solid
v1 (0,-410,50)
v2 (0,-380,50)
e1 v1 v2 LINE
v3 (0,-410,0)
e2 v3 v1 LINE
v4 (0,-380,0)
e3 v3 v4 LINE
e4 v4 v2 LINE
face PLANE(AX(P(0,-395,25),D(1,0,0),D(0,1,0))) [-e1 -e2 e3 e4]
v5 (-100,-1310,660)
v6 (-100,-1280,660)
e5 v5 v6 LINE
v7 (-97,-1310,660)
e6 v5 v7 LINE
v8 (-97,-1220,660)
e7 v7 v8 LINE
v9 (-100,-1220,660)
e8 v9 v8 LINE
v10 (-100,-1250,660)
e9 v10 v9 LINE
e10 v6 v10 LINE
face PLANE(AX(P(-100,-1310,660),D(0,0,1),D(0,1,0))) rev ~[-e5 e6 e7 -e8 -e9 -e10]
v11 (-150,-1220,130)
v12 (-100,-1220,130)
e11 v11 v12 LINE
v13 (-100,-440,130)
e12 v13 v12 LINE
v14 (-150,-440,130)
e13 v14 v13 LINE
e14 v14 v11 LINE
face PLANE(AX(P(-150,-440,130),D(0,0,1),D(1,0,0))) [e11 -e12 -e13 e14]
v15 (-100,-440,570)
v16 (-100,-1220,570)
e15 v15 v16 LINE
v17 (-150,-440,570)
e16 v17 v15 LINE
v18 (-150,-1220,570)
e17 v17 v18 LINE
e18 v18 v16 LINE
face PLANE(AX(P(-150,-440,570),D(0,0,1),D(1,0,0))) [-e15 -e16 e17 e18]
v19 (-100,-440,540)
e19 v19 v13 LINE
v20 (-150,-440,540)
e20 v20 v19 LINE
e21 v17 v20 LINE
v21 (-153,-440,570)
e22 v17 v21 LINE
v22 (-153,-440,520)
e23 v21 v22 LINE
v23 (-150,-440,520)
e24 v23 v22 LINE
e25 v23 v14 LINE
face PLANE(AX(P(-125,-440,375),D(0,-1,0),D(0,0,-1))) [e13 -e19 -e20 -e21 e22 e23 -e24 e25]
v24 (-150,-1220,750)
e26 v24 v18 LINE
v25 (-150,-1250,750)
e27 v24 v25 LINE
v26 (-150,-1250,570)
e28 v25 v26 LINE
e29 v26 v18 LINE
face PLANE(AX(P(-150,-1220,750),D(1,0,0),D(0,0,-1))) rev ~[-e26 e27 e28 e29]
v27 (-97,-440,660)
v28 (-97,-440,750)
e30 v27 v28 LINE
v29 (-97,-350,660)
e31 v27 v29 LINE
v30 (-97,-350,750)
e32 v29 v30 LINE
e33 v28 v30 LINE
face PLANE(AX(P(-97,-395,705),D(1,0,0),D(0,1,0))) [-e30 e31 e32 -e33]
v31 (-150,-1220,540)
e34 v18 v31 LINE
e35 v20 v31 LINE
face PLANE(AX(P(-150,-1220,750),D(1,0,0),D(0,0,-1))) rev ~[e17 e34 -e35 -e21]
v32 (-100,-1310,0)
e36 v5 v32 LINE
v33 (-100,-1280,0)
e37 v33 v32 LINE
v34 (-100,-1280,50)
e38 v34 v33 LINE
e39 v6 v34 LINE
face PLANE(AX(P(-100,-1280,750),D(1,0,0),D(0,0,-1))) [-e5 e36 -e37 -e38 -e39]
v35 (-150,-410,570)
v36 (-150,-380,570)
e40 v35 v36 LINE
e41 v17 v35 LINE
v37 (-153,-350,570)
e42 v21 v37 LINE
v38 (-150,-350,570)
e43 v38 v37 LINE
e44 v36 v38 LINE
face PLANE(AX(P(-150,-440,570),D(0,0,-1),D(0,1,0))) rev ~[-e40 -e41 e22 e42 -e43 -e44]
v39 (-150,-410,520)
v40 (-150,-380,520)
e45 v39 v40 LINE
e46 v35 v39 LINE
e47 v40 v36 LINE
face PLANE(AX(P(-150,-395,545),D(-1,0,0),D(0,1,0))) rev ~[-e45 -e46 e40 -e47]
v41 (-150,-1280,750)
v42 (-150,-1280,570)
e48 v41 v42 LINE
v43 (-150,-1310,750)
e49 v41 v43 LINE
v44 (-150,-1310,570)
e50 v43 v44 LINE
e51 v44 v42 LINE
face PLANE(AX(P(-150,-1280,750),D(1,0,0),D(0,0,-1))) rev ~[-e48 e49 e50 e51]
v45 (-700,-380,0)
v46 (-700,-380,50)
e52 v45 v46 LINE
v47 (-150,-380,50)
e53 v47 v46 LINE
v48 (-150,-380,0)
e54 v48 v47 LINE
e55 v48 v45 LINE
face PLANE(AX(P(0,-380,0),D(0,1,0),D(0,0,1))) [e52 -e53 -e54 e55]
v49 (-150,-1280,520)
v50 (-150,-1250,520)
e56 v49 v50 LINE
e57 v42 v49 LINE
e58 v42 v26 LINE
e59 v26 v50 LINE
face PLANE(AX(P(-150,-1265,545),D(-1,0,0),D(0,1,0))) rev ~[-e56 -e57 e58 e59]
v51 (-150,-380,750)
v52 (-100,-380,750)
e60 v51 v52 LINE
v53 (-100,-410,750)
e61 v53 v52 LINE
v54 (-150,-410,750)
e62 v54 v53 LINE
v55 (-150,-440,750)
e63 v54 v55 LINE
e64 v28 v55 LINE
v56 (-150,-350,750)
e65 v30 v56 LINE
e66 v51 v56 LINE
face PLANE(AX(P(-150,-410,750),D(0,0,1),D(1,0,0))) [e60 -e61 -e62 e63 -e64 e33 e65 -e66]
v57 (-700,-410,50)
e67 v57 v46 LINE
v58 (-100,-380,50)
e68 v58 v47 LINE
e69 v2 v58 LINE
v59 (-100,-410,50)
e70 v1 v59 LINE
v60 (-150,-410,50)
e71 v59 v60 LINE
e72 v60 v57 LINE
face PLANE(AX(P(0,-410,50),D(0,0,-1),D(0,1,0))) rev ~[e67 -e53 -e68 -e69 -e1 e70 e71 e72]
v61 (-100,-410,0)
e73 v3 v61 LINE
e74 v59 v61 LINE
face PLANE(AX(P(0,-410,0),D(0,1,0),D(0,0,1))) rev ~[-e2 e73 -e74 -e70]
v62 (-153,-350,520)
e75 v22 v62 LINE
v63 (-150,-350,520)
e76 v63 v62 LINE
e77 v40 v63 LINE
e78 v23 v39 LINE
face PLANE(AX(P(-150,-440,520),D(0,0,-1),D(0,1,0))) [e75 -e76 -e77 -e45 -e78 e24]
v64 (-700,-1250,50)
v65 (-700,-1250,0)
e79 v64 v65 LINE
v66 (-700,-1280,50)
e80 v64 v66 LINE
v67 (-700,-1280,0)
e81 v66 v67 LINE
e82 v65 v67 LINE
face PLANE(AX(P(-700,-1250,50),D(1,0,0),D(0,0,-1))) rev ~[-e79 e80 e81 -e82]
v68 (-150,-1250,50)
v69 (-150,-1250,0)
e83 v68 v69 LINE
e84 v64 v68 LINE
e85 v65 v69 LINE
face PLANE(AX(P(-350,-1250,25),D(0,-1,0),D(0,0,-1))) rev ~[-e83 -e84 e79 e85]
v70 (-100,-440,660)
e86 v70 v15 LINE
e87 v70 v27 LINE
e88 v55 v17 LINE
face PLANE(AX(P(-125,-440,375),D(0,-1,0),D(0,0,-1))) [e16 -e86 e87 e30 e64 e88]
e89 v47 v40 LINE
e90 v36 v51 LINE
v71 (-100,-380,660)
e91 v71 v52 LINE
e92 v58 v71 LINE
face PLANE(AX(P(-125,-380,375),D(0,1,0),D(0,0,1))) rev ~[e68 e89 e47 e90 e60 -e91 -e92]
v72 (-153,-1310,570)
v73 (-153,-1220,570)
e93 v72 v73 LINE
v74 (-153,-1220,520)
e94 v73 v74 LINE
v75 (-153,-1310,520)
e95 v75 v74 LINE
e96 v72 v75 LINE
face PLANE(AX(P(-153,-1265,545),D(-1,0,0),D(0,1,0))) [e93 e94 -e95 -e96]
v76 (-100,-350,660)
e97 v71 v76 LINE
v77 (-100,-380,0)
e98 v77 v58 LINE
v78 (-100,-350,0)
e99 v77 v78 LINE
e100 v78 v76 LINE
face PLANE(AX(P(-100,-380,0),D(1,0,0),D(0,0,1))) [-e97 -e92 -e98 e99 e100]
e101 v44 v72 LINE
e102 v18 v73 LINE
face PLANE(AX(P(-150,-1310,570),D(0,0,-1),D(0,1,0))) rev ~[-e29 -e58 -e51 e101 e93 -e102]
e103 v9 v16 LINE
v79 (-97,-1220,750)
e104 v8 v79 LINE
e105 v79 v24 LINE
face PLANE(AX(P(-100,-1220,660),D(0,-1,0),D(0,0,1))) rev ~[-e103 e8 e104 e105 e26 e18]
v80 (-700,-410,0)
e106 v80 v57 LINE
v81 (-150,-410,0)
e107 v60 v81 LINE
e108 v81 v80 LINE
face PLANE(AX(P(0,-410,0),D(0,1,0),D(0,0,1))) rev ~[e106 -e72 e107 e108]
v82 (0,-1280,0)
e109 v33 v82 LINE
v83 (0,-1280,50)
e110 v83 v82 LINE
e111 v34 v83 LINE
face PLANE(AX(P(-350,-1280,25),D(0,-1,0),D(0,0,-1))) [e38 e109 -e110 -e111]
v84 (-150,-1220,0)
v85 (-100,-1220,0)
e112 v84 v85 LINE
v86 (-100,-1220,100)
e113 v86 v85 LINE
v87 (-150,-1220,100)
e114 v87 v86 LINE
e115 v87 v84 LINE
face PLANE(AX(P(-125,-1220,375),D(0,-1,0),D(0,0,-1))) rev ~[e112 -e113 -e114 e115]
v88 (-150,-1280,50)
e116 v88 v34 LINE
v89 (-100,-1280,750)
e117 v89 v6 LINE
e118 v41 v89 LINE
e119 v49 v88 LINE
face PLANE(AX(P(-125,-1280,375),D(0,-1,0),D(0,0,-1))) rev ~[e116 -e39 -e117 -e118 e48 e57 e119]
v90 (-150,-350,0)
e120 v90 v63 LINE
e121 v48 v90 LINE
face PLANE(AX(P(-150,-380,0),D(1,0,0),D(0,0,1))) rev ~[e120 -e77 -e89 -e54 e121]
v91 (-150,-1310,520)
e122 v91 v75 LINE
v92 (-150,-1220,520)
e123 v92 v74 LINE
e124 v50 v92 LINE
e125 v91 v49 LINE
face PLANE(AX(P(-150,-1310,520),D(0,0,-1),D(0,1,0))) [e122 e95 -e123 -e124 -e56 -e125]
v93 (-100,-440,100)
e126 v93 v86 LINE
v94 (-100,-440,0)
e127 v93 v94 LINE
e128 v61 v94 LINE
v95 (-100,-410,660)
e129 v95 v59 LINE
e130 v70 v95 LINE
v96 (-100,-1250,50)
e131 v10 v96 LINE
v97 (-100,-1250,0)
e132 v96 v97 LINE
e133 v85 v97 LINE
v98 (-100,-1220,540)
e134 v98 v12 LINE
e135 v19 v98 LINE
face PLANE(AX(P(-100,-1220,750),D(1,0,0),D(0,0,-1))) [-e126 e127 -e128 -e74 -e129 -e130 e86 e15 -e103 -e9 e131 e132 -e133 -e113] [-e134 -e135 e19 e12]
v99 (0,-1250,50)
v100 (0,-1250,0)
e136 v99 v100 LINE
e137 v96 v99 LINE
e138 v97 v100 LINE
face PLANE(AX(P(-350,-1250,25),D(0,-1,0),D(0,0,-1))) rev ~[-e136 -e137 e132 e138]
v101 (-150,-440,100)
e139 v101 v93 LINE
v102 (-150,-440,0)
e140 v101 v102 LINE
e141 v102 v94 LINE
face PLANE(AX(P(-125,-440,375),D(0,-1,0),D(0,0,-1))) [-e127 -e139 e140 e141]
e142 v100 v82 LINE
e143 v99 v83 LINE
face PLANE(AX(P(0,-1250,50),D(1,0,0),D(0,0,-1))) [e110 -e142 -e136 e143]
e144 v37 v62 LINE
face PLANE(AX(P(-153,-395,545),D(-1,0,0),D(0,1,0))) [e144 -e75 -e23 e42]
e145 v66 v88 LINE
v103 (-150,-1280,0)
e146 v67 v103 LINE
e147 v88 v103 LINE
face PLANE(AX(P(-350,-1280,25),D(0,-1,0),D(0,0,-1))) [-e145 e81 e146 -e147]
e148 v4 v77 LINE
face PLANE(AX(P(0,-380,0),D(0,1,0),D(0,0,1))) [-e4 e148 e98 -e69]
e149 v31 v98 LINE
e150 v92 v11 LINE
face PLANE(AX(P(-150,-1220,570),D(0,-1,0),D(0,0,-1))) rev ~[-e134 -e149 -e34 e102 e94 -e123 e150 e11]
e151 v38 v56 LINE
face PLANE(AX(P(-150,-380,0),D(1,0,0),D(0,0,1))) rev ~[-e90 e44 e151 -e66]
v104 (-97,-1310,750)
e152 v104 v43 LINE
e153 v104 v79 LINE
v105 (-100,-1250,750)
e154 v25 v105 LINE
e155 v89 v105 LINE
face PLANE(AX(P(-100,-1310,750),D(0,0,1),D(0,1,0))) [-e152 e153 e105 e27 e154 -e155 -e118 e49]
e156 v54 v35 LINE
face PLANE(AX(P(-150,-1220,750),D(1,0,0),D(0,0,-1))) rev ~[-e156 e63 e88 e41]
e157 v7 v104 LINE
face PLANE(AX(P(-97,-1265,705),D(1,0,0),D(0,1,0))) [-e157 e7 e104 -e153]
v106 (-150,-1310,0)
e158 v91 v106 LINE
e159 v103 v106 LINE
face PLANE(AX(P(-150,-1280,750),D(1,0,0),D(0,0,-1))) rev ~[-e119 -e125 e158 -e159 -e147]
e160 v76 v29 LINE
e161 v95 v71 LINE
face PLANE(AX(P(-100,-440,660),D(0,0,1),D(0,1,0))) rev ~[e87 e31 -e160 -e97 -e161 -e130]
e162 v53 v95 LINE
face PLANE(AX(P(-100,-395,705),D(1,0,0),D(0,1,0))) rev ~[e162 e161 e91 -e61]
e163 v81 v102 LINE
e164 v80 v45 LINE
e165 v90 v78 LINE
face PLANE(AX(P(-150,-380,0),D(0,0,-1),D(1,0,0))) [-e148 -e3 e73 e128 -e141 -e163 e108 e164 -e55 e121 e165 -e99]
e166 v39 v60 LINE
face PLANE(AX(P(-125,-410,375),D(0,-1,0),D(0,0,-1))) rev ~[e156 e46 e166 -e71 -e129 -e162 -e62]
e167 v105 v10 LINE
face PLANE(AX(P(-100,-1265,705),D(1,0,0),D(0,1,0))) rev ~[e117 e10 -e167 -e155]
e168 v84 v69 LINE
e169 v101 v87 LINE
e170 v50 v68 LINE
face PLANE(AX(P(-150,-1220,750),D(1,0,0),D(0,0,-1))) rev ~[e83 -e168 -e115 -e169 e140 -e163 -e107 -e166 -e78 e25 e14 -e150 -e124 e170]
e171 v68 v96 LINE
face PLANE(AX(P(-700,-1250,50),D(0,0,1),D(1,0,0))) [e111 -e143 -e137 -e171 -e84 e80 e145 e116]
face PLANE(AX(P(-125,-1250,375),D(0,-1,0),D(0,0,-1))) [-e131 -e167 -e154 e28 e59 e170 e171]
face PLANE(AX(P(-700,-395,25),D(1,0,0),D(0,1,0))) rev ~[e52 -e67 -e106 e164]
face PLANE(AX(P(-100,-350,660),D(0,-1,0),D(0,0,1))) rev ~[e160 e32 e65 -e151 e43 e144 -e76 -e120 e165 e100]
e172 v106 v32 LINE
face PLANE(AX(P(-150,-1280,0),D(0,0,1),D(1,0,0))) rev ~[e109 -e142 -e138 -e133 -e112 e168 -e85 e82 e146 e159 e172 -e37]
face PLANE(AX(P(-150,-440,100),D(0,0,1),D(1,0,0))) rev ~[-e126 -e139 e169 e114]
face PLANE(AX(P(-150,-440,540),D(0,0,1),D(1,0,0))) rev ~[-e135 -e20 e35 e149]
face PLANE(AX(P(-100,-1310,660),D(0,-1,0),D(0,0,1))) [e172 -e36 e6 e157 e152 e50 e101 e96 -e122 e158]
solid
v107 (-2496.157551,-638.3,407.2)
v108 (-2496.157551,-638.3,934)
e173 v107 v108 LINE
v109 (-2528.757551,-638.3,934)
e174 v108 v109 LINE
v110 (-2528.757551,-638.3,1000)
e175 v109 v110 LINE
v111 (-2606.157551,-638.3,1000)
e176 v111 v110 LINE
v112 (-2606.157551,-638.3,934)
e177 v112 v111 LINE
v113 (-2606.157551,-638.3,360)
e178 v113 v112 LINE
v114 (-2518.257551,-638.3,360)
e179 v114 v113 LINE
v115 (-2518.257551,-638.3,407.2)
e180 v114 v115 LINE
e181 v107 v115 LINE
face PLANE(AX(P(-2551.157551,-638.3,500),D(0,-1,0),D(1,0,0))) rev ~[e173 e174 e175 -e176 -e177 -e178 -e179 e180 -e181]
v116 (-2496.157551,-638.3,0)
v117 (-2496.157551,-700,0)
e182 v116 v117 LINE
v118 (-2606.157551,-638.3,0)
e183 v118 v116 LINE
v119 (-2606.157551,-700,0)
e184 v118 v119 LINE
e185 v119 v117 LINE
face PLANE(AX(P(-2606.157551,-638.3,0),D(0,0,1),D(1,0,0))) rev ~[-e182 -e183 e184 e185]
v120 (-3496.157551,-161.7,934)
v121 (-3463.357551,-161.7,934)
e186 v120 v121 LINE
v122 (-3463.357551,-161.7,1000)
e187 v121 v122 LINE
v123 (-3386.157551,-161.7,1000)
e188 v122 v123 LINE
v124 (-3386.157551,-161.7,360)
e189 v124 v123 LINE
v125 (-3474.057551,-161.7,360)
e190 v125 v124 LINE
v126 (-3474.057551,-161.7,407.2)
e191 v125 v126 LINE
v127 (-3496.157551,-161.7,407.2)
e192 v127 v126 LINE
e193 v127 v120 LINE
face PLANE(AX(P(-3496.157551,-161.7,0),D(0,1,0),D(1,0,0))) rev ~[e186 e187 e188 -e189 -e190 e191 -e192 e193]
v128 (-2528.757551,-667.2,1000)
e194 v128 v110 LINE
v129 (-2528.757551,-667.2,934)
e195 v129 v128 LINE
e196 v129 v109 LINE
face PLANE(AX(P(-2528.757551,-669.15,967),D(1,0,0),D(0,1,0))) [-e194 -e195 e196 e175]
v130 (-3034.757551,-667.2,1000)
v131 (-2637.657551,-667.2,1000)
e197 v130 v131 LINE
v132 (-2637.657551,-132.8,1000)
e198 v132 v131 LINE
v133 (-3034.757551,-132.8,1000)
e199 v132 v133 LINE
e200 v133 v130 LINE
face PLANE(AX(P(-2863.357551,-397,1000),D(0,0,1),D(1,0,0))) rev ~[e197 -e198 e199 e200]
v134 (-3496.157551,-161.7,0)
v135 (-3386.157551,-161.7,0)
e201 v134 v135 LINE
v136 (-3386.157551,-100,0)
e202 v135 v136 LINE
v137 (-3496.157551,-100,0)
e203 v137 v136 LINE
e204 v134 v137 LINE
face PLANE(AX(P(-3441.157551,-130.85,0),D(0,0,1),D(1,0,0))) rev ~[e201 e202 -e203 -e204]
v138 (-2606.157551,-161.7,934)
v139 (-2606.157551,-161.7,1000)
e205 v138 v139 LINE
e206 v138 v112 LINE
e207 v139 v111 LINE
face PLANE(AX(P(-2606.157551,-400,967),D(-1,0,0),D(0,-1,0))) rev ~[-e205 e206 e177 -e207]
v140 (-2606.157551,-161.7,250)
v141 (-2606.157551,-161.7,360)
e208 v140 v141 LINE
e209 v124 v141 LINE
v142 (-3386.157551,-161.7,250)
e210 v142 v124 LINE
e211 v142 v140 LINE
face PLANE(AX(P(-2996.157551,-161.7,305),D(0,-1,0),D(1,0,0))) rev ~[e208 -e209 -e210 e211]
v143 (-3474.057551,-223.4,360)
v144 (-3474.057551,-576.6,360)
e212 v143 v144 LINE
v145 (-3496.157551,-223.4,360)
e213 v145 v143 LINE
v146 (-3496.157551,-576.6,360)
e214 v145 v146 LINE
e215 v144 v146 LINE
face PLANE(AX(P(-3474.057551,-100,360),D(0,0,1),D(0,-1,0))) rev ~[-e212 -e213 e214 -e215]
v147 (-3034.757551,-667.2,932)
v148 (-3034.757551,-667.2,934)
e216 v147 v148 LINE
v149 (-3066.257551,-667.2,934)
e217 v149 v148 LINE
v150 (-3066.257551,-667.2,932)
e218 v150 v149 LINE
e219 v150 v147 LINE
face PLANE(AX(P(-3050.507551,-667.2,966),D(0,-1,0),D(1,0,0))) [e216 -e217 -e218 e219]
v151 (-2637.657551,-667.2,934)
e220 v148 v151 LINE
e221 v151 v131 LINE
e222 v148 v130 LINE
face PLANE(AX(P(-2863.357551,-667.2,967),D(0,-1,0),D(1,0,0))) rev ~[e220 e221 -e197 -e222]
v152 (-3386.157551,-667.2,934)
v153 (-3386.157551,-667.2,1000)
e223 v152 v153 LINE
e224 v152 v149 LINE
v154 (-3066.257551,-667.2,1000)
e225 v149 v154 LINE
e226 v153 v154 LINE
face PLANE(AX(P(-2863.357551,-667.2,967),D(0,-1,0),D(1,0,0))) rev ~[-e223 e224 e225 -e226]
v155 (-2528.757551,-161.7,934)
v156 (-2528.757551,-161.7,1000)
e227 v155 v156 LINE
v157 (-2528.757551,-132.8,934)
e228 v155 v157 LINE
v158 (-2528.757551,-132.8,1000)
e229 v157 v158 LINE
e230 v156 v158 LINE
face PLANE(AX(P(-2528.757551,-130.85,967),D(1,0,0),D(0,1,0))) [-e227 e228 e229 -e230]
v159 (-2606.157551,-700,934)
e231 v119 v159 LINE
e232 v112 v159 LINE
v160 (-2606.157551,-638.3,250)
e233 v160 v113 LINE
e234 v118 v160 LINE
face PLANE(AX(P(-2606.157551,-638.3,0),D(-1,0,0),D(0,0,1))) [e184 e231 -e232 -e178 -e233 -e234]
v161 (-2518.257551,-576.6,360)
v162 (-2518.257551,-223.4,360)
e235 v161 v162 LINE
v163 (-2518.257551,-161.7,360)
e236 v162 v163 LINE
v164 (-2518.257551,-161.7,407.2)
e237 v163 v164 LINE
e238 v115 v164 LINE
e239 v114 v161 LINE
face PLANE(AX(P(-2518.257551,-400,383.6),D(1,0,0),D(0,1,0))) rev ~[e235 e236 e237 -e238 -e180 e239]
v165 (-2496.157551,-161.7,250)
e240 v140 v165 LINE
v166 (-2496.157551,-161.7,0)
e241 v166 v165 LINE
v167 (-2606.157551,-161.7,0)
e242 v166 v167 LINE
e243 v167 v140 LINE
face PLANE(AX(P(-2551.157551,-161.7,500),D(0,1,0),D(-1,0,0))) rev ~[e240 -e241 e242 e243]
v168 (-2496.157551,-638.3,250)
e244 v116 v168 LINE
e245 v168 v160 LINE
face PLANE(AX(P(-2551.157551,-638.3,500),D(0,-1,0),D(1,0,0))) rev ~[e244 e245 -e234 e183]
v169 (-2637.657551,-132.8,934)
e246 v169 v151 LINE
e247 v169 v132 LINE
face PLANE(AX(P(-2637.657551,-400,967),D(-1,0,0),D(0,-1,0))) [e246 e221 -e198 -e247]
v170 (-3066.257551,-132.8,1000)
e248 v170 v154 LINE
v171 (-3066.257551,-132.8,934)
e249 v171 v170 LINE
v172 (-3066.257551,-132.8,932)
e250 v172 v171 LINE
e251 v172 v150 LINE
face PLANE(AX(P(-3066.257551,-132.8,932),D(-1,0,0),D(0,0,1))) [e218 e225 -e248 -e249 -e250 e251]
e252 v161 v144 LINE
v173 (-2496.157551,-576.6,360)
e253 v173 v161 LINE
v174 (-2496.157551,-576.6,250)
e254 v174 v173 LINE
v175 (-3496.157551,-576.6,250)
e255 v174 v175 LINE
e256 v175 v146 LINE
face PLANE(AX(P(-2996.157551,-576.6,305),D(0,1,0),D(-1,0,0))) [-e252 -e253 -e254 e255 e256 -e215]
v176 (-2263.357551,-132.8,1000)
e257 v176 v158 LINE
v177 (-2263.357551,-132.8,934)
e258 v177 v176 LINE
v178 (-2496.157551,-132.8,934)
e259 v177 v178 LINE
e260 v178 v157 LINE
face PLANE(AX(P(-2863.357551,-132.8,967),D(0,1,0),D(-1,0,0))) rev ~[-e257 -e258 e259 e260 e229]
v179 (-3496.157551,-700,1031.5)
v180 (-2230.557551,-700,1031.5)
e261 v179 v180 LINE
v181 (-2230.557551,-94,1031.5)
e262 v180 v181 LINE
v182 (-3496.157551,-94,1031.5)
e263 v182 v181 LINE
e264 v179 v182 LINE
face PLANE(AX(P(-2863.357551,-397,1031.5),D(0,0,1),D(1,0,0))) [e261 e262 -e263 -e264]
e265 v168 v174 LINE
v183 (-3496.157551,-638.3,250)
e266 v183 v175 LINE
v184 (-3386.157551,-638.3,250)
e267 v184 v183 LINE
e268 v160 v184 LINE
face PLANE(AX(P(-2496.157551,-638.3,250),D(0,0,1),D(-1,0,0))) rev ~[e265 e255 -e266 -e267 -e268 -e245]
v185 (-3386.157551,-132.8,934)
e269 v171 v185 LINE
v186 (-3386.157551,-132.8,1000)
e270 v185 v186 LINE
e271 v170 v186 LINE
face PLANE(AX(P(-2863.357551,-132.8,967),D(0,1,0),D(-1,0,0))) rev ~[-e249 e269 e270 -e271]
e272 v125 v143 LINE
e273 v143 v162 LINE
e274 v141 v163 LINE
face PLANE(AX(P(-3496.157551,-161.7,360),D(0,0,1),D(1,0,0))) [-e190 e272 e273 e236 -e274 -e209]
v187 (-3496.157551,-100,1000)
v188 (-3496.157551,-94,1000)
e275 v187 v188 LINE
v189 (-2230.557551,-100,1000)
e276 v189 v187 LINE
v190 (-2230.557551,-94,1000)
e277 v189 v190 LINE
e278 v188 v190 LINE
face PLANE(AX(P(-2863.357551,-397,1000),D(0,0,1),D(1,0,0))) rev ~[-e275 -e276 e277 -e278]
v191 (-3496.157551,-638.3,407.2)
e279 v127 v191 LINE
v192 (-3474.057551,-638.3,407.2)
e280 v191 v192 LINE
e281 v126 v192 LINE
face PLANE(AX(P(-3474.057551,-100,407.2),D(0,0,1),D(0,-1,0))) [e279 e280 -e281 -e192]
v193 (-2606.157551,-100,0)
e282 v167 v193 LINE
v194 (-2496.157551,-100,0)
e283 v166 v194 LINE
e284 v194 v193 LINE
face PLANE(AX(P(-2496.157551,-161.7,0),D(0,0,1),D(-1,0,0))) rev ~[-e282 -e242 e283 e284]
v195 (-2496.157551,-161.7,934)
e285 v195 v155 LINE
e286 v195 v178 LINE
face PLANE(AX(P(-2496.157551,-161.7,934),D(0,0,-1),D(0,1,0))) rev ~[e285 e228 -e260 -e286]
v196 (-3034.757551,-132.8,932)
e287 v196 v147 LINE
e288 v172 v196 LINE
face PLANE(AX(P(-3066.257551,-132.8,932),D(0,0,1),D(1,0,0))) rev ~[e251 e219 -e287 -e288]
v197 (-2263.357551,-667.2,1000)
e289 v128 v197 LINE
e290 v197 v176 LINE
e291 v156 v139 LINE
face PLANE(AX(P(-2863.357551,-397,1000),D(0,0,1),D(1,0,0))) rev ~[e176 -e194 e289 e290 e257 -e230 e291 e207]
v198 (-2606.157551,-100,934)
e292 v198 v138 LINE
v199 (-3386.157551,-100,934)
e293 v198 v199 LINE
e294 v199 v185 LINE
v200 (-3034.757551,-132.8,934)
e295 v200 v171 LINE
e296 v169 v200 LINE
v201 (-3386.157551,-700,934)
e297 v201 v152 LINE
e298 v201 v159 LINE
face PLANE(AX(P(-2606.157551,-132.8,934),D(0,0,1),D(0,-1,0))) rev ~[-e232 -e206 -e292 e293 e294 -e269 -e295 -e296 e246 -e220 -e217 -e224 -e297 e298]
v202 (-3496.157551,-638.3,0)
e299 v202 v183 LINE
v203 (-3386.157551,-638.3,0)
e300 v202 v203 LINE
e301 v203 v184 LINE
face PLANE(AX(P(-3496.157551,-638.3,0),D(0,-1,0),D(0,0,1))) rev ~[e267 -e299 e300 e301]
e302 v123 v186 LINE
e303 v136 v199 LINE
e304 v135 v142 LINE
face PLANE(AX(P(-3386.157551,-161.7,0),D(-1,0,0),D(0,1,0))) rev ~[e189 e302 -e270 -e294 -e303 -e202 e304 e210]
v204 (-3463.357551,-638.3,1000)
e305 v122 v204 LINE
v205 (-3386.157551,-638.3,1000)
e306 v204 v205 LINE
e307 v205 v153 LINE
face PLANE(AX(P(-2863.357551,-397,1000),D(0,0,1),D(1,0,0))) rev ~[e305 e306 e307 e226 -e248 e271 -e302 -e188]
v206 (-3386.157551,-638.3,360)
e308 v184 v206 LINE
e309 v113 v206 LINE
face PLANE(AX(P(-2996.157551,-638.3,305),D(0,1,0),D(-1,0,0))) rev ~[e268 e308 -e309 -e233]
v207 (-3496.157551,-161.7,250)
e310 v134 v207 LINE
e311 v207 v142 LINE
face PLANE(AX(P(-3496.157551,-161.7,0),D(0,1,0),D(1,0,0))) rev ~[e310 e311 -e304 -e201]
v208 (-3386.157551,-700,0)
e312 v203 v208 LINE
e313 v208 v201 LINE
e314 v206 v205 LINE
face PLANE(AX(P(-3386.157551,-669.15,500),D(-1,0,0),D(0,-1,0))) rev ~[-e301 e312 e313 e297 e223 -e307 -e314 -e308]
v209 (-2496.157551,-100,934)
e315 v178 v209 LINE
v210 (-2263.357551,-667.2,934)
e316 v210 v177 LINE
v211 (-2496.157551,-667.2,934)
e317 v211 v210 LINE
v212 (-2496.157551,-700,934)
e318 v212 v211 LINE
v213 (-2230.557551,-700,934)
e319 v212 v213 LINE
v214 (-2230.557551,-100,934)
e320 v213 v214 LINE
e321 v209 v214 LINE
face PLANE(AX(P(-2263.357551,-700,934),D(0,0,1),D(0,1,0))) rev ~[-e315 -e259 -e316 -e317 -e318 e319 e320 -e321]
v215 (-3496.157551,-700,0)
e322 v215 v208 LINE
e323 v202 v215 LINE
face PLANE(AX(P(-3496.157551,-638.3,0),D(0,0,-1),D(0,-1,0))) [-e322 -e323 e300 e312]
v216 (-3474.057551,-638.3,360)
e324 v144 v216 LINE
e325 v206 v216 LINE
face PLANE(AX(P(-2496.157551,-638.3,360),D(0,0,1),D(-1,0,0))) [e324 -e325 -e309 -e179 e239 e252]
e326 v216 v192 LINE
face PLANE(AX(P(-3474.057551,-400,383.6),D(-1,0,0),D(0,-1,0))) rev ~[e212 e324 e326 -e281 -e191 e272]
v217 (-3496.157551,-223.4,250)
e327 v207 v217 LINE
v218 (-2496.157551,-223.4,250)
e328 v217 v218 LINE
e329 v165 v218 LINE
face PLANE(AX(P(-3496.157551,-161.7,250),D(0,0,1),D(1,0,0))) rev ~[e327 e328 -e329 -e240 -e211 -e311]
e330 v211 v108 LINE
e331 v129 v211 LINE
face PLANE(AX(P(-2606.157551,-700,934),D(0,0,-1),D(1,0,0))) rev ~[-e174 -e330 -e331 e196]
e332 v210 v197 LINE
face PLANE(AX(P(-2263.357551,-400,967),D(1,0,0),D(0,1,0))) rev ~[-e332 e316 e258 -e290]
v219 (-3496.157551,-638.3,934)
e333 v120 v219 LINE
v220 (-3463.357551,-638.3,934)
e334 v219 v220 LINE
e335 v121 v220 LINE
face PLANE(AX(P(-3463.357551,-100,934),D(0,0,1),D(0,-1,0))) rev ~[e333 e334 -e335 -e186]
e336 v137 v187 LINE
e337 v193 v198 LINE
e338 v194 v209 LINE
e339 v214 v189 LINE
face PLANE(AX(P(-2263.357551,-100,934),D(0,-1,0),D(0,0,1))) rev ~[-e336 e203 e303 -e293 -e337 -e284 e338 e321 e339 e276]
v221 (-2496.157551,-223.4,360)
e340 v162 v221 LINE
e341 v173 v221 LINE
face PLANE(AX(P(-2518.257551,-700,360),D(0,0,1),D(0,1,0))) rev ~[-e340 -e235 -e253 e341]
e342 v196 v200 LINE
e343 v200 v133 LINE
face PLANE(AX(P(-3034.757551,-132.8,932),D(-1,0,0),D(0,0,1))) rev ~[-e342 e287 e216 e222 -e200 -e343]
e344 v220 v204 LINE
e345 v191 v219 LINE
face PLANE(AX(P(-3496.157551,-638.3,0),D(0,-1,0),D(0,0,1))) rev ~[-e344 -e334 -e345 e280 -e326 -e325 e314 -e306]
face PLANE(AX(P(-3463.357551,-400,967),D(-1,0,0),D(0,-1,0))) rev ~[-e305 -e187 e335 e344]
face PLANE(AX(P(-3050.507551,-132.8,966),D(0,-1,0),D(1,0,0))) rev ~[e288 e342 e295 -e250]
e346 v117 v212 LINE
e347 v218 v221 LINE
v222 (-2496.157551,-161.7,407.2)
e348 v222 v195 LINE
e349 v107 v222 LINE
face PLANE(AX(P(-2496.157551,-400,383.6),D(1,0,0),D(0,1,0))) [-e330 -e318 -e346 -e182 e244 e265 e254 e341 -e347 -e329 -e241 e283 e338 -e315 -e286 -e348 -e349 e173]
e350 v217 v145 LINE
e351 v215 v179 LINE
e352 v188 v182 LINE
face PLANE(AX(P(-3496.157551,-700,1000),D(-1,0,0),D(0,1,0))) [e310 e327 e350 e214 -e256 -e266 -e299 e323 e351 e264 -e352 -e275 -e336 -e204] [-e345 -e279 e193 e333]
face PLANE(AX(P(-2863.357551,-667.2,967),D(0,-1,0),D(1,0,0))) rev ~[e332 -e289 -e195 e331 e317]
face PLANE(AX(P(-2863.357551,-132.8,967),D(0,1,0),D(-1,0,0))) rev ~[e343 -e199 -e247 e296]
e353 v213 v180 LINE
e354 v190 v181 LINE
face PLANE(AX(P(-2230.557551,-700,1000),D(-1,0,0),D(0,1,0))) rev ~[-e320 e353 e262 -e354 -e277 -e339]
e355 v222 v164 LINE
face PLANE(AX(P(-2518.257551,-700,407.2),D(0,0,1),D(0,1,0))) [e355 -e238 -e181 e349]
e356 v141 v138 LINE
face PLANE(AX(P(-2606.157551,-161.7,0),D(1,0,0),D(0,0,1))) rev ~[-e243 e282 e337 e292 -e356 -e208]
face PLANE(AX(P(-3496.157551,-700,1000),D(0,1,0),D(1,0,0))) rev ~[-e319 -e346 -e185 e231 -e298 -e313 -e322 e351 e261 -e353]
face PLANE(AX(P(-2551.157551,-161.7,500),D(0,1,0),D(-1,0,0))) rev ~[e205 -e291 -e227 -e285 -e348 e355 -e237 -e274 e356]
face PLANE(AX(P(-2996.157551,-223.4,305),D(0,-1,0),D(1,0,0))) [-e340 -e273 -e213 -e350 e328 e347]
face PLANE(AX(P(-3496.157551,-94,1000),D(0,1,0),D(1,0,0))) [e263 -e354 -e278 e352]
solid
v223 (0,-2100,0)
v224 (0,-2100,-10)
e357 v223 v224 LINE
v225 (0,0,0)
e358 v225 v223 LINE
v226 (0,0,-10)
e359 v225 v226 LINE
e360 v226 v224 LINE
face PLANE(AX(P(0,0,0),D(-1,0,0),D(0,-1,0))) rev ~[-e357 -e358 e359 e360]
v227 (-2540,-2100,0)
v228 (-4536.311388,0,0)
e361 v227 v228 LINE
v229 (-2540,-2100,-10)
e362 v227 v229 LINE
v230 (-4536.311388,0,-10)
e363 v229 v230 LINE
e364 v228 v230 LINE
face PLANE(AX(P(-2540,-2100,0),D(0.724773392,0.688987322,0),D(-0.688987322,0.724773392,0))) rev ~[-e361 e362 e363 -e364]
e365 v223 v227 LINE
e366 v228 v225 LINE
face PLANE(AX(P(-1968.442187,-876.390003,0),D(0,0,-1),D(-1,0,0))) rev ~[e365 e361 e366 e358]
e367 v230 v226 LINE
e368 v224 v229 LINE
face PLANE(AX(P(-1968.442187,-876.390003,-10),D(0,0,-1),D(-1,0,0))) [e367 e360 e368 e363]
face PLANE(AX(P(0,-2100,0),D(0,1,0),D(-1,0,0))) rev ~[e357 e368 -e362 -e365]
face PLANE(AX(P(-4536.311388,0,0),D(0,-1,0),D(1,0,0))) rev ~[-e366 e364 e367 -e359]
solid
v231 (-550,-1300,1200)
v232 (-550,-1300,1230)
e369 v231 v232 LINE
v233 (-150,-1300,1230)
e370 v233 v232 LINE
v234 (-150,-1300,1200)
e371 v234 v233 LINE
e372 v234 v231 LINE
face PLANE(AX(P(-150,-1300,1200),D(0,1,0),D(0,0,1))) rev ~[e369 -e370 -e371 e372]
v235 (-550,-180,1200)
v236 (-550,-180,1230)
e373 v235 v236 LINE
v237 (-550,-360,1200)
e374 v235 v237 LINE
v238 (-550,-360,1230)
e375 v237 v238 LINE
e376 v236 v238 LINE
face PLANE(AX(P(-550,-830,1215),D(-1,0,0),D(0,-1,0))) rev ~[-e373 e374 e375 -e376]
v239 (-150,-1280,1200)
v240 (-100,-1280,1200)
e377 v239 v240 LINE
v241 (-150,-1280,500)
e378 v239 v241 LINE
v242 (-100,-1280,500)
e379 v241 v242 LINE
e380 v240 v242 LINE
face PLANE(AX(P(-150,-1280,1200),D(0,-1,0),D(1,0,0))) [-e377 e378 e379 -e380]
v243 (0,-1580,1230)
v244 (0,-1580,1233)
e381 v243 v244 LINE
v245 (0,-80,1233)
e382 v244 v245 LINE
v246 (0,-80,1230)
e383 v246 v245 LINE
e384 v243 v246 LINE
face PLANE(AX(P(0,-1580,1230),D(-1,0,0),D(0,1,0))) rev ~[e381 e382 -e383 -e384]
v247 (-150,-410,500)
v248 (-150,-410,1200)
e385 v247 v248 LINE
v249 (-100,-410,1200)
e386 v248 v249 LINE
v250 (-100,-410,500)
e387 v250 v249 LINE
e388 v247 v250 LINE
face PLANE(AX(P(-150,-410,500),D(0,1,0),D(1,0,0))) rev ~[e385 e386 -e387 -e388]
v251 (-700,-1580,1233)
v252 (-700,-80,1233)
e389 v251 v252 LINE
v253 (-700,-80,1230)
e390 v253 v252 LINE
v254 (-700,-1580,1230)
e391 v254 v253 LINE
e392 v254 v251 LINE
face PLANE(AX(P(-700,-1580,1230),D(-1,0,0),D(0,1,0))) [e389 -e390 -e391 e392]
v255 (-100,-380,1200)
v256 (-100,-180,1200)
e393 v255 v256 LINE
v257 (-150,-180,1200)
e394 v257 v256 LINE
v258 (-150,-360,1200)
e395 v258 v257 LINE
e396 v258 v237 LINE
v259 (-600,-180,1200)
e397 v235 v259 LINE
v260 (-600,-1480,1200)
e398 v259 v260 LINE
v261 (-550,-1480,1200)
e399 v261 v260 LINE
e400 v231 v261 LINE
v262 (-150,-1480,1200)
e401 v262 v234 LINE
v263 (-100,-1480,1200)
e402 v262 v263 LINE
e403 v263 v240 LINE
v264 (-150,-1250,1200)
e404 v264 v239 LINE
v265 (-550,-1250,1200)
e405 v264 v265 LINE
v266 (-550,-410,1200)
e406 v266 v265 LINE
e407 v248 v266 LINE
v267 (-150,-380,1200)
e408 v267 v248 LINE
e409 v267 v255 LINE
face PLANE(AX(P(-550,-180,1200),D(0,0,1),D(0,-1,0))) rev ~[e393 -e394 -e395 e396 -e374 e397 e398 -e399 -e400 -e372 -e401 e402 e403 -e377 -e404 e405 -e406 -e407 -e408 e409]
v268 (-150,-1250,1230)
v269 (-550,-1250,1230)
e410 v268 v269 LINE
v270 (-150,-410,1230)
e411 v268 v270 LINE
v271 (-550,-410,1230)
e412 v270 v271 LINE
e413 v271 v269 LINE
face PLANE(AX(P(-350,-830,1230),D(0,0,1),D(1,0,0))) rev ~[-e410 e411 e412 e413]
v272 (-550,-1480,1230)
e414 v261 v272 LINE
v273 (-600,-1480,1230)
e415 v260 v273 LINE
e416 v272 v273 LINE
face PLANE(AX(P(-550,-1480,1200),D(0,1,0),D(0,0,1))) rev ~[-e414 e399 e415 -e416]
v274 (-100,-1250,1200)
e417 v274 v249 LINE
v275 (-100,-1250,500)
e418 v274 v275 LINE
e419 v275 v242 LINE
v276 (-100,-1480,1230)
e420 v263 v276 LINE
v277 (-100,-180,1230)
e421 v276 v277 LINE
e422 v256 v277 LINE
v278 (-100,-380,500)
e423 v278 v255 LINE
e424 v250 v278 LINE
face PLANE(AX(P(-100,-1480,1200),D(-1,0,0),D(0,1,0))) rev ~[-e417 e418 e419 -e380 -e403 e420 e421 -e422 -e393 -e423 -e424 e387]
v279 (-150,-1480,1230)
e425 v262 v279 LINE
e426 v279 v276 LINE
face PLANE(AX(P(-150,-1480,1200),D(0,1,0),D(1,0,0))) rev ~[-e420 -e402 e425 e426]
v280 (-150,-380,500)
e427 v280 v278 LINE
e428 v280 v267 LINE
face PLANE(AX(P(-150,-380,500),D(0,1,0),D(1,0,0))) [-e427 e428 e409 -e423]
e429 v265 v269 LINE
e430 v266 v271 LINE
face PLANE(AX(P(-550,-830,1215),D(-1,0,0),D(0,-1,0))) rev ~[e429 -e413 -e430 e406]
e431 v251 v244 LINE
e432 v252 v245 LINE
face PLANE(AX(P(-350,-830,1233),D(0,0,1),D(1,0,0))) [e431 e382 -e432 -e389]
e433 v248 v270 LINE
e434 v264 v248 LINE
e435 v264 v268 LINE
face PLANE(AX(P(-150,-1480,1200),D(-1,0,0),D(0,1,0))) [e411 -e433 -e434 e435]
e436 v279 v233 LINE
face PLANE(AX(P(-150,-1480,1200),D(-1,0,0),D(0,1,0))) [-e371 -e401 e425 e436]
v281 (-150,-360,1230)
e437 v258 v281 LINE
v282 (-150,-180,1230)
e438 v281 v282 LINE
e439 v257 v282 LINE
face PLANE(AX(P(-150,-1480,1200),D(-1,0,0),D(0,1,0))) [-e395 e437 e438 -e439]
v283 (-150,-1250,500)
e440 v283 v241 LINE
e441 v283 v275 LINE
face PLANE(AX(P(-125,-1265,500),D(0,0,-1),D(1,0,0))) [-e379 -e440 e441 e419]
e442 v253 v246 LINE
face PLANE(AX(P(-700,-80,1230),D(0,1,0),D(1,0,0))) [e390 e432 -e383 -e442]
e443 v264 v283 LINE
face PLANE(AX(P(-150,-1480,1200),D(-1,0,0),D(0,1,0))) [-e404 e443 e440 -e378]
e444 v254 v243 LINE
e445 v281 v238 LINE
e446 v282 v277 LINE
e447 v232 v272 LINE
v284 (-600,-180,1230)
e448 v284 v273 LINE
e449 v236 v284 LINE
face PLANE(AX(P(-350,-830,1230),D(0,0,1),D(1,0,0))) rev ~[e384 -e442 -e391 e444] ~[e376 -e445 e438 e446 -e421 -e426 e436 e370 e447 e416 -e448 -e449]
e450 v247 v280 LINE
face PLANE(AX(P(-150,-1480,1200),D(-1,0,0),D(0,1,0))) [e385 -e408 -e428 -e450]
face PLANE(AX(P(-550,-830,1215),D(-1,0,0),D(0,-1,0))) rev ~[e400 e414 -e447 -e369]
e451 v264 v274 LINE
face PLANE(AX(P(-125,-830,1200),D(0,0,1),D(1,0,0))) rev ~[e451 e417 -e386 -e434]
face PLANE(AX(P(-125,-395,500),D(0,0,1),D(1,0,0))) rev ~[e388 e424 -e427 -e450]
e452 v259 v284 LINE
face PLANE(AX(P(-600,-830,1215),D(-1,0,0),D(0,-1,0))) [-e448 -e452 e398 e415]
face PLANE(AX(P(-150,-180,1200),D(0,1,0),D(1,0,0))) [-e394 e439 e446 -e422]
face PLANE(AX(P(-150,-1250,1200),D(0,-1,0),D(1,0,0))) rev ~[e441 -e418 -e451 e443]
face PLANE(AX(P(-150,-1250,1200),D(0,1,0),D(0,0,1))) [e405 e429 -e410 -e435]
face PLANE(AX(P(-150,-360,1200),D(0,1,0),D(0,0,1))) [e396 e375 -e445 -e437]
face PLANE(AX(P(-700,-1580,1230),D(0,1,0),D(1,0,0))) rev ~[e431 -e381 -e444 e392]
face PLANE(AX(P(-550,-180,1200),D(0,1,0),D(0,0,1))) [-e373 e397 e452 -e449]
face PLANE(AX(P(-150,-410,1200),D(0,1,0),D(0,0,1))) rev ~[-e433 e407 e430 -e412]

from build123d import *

# Parameters (mm, degrees)
PAD015_DEPTH    = 10
SKETCH001_W     = 30
SKETCH001_H     = 50
PAD_DEPTH       = 700
SKETCH002_W     = 750
SKETCH002_H     = 50
PAD001_DEPTH    = 30
SKETCH003_W     = 750
SKETCH003_H     = 50
PAD002_DEPTH    = 30
SKETCH004_W     = 30
SKETCH004_H     = 50
PAD003_DEPTH    = 780
SKETCH005_W     = 750
SKETCH005_H     = 50
PAD004_DEPTH    = 30
SKETCH006_W     = 50
SKETCH006_H     = 700
PAD005_DEPTH    = 30
SKETCH007_W     = 750
SKETCH007_H     = 50
PAD006_DEPTH    = 30
SKETCH008_W     = 90
SKETCH008_H     = 50
PAD007_DEPTH    = 3
SKETCH009_W     = 90
SKETCH009_H     = 90
PAD008_DEPTH    = 3
SKETCH010_W     = 50
SKETCH010_H     = 30
PAD009_DEPTH    = 700
SKETCH011_W     = 50
SKETCH011_H     = 1300
PAD010_DEPTH    = 30
SKETCH012_W     = 50
SKETCH012_H     = 30
PAD011_DEPTH    = 700
SKETCH013_W     = 50
SKETCH013_H     = 30
PAD012_DEPTH    = 400
SKETCH014_W     = 1300
SKETCH014_H     = 30
PAD013_DEPTH    = 50
SKETCH015_W     = 700
SKETCH015_H     = 1500
PAD014_DEPTH    = 3
SKETCH016_W     = 110
SKETCH016_H     = 61.7
PAD016_DEPTH    = 1000
SKETCH017_W     = 1000
SKETCH017_H     = 110
PAD017_DEPTH    = 61.7
SKETCH018_W     = 110
SKETCH018_H     = 1000
PAD018_DEPTH    = 61.7
SKETCH019_W     = 61.7
SKETCH019_H     = 47.2
POCKET_DEPTH    = 22.1
SKETCH020_W     = 600
SKETCH020_H     = 47.2
PAD019_DEPTH    = 22.1
SKETCH021_W     = 61.7
SKETCH021_H     = 1000
PAD020_DEPTH    = 110
SKETCH022_W     = 1000
SKETCH022_H     = 110
PAD021_DEPTH    = 61.7
SKETCH023_W     = 110
SKETCH023_H     = 1000
PAD022_DEPTH    = 61.7
SKETCH024_W     = 61.7
SKETCH024_H     = 47.2
POCKET001_DEPTH = 22.1
SKETCH025_W     = 600
SKETCH025_H     = 47.2
PAD023_DEPTH    = 22.1
SKETCH026_W     = 61.7
SKETCH026_H     = 66
POCKET002_DEPTH = 32.8
SKETCH027_W     = 61.7
SKETCH027_H     = 66
POCKET003_DEPTH = 32.6
SKETCH028_W     = 77.2
SKETCH028_H     = 66
SKETCH028_W_2   = 77.4
POCKET004_DEPTH = 32.8
SKETCH029_W     = 77.4
SKETCH029_H     = 66
SKETCH029_W_2   = 77.2
POCKET005_DEPTH = 32.8
SKETCH030_W     = 600
SKETCH030_H     = 66
PAD024_DEPTH    = 32.8
SKETCH032_W     = 1200
SKETCH032_H     = 66
PAD025_DEPTH    = 32.8
SKETCH033_W     = 1200
SKETCH033_H     = 66
PAD026_DEPTH    = 32.8
SKETCH034_W     = 600
SKETCH034_H     = 66
PAD027_DEPTH    = 32.8
SKETCH035_W     = 534.4
SKETCH035_H     = 66
PAD028_DEPTH    = 31.5
SKETCH036_W     = 31.5
SKETCH036_H     = 68
PAD029_DEPTH    = 534.4
SKETCH037_W     = 1265.6
SKETCH037_H     = 606
PAD030_DEPTH    = 31.5


with BuildPart() as area:
    # Sketch → Pad015 (new body)
    with BuildSketch(Plane.XY):
        Polygon((0, -2100), (-2540, -2100), (-4536.311388, 0), (0, 0), align=None)
    extrude(amount=-PAD015_DEPTH)


with BuildPart() as partedebaixo:
    # Sketch001 → Pad (new body)
    with BuildSketch(Plane.YZ):
        with Locations((-395, 25)):
            Rectangle(SKETCH001_W, SKETCH001_H)
    extrude(amount=-PAD_DEPTH)

    # Sketch002 (on Face4 of Pad) → Pad001 (join)
    with BuildSketch(Plane(origin=(0, -410, 0), x_dir=(0, 0, -1), z_dir=(0, -1, 0))):
        with Locations((-375, -125)):
            Rectangle(SKETCH002_W, SKETCH002_H)
    extrude(amount=PAD001_DEPTH)

    # Sketch003 (on Face5 of Pad001) → Pad002 (join)
    with BuildSketch(Plane.ZX.offset(-380)):
        with Locations((375, -125)):
            Rectangle(SKETCH003_W, SKETCH003_H)
    extrude(amount=PAD002_DEPTH)

    # Sketch004 (on Face18 of Pad002) → Pad003 (join)
    with BuildSketch(Plane(origin=(0, -440, 0), x_dir=(0, 0, -1), z_dir=(0, -1, 0))):
        with Locations((-115, -125)):
            Rectangle(SKETCH004_W, SKETCH004_H)
        with Locations((-555, -125)):
            Rectangle(SKETCH004_W, SKETCH004_H)
    extrude(amount=PAD003_DEPTH)

    # Sketch005 (on Face29 of Pad003) → Pad004 (join)
    with BuildSketch(Plane(origin=(0, -1220, 0), x_dir=(0, 0, -1), z_dir=(0, -1, 0))):
        with Locations((-375, -125)):
            Rectangle(SKETCH005_W, SKETCH005_H)
    extrude(amount=PAD004_DEPTH)

    # Sketch006 (on Face9 of Pad004) → Pad005 (join)
    with BuildSketch(Plane(origin=(0, -1250, 0), x_dir=(0, 0, -1), z_dir=(0, -1, 0))):
        with Locations((-25, -350)):
            Rectangle(SKETCH006_W, SKETCH006_H)
    extrude(amount=PAD005_DEPTH)

    # Sketch007 (on Face24 of Pad005) → Pad006 (join)
    with BuildSketch(Plane(origin=(0, -1280, 0), x_dir=(0, 0, -1), z_dir=(0, -1, 0))):
        with Locations((-375, -125)):
            Rectangle(SKETCH007_W, SKETCH007_H)
    extrude(amount=PAD006_DEPTH)

    # Sketch008 (on Face50 of Pad006) → Pad007 (join)
    with BuildSketch(Plane(origin=(-150, 0, 0), x_dir=(0, 1, 0), z_dir=(-1, 0, 0))):
        with Locations((-1265, -545)):
            Rectangle(SKETCH008_W, SKETCH008_H)
        with Locations((-395, -545)):
            Rectangle(SKETCH008_W, SKETCH008_H)
    extrude(amount=PAD007_DEPTH)

    # Sketch009 (on Face45 of Pad007) → Pad008 (join)
    with BuildSketch(Plane.YZ.offset(-100)):
        with Locations((-1265, 705)):
            Rectangle(SKETCH009_W, SKETCH009_H)
        with Locations((-395, 705)):
            Rectangle(SKETCH009_W, SKETCH009_H)
    extrude(amount=PAD008_DEPTH)


with BuildPart() as partedecima:
    # Sketch010 → Pad009 (new body)
    with BuildSketch(Plane.XY.offset(500)):
        with Locations((-125, -395)):
            Rectangle(SKETCH010_W, SKETCH010_H)
    extrude(amount=PAD009_DEPTH)

    # Sketch011 (on Face6 of Pad009) → Pad010 (join)
    with BuildSketch(Plane.XY.offset(1200)):
        with Locations((-125, -830)):
            Rectangle(SKETCH011_W, SKETCH011_H)
    extrude(amount=PAD010_DEPTH)

    # Sketch012 (on Face7 of Pad010) → Pad011 (join)
    with BuildSketch(Plane(origin=(0, 0, 1200), x_dir=(1, 0, 0), z_dir=(0, 0, -1))):
        with Locations((-125, 1265)):
            Rectangle(SKETCH012_W, SKETCH012_H)
    extrude(amount=PAD011_DEPTH)

    # Sketch013 (on Face2 of Pad011) → Pad012 (join)
    with BuildSketch(Plane(origin=(-150, 0, 0), x_dir=(0, -1, 0), z_dir=(-1, 0, 0))):
        with Locations((385, 1215)):
            Rectangle(SKETCH013_W, SKETCH013_H)
        with Locations((1275, 1215)):
            Rectangle(SKETCH013_W, SKETCH013_H)
    extrude(amount=PAD012_DEPTH)

    # Sketch014 (on Face18 of Pad012) → Pad013 (join)
    with BuildSketch(Plane(origin=(-550, 0, 0), x_dir=(0, -1, 0), z_dir=(-1, 0, 0))):
        with Locations((830, 1215)):
            Rectangle(SKETCH014_W, SKETCH014_H)
    extrude(amount=PAD013_DEPTH)

    # Sketch015 (on Face1 of Pad013) → Pad014 (join)
    with BuildSketch(Plane.XY.offset(1230)):
        with Locations((-350, -830)):
            Rectangle(SKETCH015_W, SKETCH015_H)
    extrude(amount=PAD014_DEPTH)


with BuildPart() as bancada:
    # Sketch016 → Pad016 (new body)
    with BuildSketch(Plane.XY):
        with Locations((-3441.157551, -130.85)):
            Rectangle(SKETCH016_W, SKETCH016_H)
    extrude(amount=PAD016_DEPTH)

    # Sketch017 (on Face3 of Pad016) → Pad017 (join)
    with BuildSketch(Plane.XZ.offset(161.7)):
        with Locations((-2996.157551, 305)):
            Rectangle(SKETCH017_W, SKETCH017_H)
    extrude(amount=PAD017_DEPTH)

    # Sketch018 (on Face9 of Pad017) → Pad018 (join)
    with BuildSketch(Plane(origin=(0, -161.7, 0), x_dir=(-1, 0, 0), z_dir=(0, 1, 0))):
        with Locations((2551.157551, 500)):
            Rectangle(SKETCH018_W, SKETCH018_H)
    extrude(amount=PAD018_DEPTH)

    # Sketch019 (on Face2 of Pad018) → Pocket (cut)
    with BuildSketch(Plane(origin=(-3496.157551, 0, 0), x_dir=(0, -1, 0), z_dir=(-1, 0, 0))):
        with Locations((130.85, 383.6)):
            Rectangle(SKETCH019_W, SKETCH019_H)
    extrude(amount=-POCKET_DEPTH, mode=Mode.SUBTRACT)

    # Sketch020 (on Face7 of Pocket) → Pad019 (join)
    with BuildSketch(Plane(origin=(-3474.057551, 0, 0), x_dir=(0, -1, 0), z_dir=(-1, 0, 0))):
        with Locations((400, 383.6)):
            Rectangle(SKETCH020_W, SKETCH020_H)
    extrude(amount=PAD019_DEPTH)

    # Sketch021 (on Face11 of Pad019) → Pad020 (join)
    with BuildSketch(Plane(origin=(-3496.157551, 0, 0), x_dir=(0, -1, 0), z_dir=(-1, 0, 0))):
        with Locations((669.15, 500)):
            Rectangle(SKETCH021_W, SKETCH021_H)
    extrude(amount=-PAD020_DEPTH)

    # Sketch022 (on Face27 of Pad020) → Pad021 (join)
    with BuildSketch(Plane(origin=(0, -638.3, 0), x_dir=(-1, 0, 0), z_dir=(0, 1, 0))):
        with Locations((2996.157551, 305)):
            Rectangle(SKETCH022_W, SKETCH022_H)
    extrude(amount=PAD021_DEPTH)

    # Sketch023 (on Face36 of Pad021) → Pad022 (join)
    with BuildSketch(Plane.XZ.offset(638.3)):
        with Locations((-2551.157551, 500)):
            Rectangle(SKETCH023_W, SKETCH023_H)
    extrude(amount=PAD022_DEPTH)

    # Sketch024 (on Face46 of Pad022) → Pocket001 (cut)
    with BuildSketch(Plane.YZ.offset(-2496.157551)):
        with Locations((-669.15, 383.6)):
            Rectangle(SKETCH024_W, SKETCH024_H)
        with Locations((-130.85, 383.6)):
            Rectangle(SKETCH024_W, SKETCH024_H)
    extrude(amount=-POCKET001_DEPTH, mode=Mode.SUBTRACT)

    # Sketch025 (on Face52 of Pocket001) → Pad023 (join)
    with BuildSketch(Plane.YZ.offset(-2518.257551)):
        with Locations((-400, 383.6)):
            Rectangle(SKETCH025_W, SKETCH025_H)
    extrude(amount=PAD023_DEPTH)

    # Sketch026 (on Face5 of Pad023) → Pocket002 (cut)
    with BuildSketch(Plane(origin=(-3496.157551, 0, 0), x_dir=(0, -1, 0), z_dir=(-1, 0, 0))):
        with Locations((130.85, 967)):
            Rectangle(SKETCH026_W, SKETCH026_H)
        with Locations((669.15, 967)):
            Rectangle(SKETCH026_W, SKETCH026_H)
    extrude(amount=-POCKET002_DEPTH, mode=Mode.SUBTRACT)

    # Sketch027 (on Face55 of Pocket002) → Pocket003 (cut)
    with BuildSketch(Plane.YZ.offset(-2496.157551)):
        with Locations((-669.15, 967)):
            Rectangle(SKETCH027_W, SKETCH027_H)
        with Locations((-130.85, 967)):
            Rectangle(SKETCH027_W, SKETCH027_H)
    extrude(amount=-POCKET003_DEPTH, mode=Mode.SUBTRACT)

    # Sketch028 (on Face56 of Pocket003) → Pocket004 (cut)
    with BuildSketch(Plane.XZ.offset(700)):
        with Locations((-3424.757551, 967)):
            Rectangle(SKETCH028_W, SKETCH028_H)
        with Locations((-2567.457551, 967)):
            Rectangle(SKETCH028_W_2, SKETCH028_H)
    extrude(amount=-POCKET004_DEPTH, mode=Mode.SUBTRACT)

    # Sketch029 (on Face29 of Pocket004) → Pocket005 (cut)
    with BuildSketch(Plane(origin=(0, -100, 0), x_dir=(-1, 0, 0), z_dir=(0, 1, 0))):
        with Locations((2567.457551, 967)):
            Rectangle(SKETCH029_W, SKETCH029_H)
        with Locations((3424.757551, 967)):
            Rectangle(SKETCH029_W_2, SKETCH029_H)
    extrude(amount=-POCKET005_DEPTH, mode=Mode.SUBTRACT)

    # Sketch030 (on Face14 of Pocket005) → Pad024 (join)
    with BuildSketch(Plane(origin=(-3463.357551, 0, 0), x_dir=(0, -1, 0), z_dir=(-1, 0, 0))):
        with Locations((400, 967)):
            Rectangle(SKETCH030_W, SKETCH030_H)
    extrude(amount=PAD024_DEPTH)

    # Sketch032 (on Face13 of Pad024) → Pad025 (join)
    with BuildSketch(Plane(origin=(0, -132.8, 0), x_dir=(-1, 0, 0), z_dir=(0, 1, 0))):
        with Locations((2863.357551, 967)):
            Rectangle(SKETCH032_W, SKETCH032_H)
    extrude(amount=PAD025_DEPTH)

    # Sketch033 (on Face79 of Pad025) → Pad026 (join)
    with BuildSketch(Plane.XZ.offset(667.2)):
        with Locations((-2863.357551, 967)):
            Rectangle(SKETCH033_W, SKETCH033_H)
    extrude(amount=PAD026_DEPTH)

    # Sketch034 (on Face56 of Pad026) → Pad027 (join)
    with BuildSketch(Plane.YZ.offset(-2263.357551)):
        with Locations((-400, 967)):
            Rectangle(SKETCH034_W, SKETCH034_H)
    extrude(amount=PAD027_DEPTH)

    # Sketch035 (on Face24 of Pad027) → Pad028 (join)
    with BuildSketch(Plane(origin=(-2606.157551, 0, 0), x_dir=(0, -1, 0), z_dir=(-1, 0, 0))):
        with Locations((400, 967)):
            Rectangle(SKETCH035_W, SKETCH035_H)
    extrude(amount=PAD028_DEPTH)

    # Sketch036 (on Face13 of Pad028) → Pad029 (join)
    with BuildSketch(Plane.XZ.offset(132.8)):
        with Locations((-3050.507551, 966)):
            Rectangle(SKETCH036_W, SKETCH036_H)
    extrude(amount=PAD029_DEPTH)

    # Sketch037 (on Face19 of Pad029) → Pad030 (join)
    with BuildSketch(Plane.XY.offset(1000)):
        with Locations((-2863.357551, -397)):
            Rectangle(SKETCH037_W, SKETCH037_H)
    extrude(amount=PAD030_DEPTH)


solid = Compound([area.part, partedebaixo.part, partedecima.part, bancada.part])
